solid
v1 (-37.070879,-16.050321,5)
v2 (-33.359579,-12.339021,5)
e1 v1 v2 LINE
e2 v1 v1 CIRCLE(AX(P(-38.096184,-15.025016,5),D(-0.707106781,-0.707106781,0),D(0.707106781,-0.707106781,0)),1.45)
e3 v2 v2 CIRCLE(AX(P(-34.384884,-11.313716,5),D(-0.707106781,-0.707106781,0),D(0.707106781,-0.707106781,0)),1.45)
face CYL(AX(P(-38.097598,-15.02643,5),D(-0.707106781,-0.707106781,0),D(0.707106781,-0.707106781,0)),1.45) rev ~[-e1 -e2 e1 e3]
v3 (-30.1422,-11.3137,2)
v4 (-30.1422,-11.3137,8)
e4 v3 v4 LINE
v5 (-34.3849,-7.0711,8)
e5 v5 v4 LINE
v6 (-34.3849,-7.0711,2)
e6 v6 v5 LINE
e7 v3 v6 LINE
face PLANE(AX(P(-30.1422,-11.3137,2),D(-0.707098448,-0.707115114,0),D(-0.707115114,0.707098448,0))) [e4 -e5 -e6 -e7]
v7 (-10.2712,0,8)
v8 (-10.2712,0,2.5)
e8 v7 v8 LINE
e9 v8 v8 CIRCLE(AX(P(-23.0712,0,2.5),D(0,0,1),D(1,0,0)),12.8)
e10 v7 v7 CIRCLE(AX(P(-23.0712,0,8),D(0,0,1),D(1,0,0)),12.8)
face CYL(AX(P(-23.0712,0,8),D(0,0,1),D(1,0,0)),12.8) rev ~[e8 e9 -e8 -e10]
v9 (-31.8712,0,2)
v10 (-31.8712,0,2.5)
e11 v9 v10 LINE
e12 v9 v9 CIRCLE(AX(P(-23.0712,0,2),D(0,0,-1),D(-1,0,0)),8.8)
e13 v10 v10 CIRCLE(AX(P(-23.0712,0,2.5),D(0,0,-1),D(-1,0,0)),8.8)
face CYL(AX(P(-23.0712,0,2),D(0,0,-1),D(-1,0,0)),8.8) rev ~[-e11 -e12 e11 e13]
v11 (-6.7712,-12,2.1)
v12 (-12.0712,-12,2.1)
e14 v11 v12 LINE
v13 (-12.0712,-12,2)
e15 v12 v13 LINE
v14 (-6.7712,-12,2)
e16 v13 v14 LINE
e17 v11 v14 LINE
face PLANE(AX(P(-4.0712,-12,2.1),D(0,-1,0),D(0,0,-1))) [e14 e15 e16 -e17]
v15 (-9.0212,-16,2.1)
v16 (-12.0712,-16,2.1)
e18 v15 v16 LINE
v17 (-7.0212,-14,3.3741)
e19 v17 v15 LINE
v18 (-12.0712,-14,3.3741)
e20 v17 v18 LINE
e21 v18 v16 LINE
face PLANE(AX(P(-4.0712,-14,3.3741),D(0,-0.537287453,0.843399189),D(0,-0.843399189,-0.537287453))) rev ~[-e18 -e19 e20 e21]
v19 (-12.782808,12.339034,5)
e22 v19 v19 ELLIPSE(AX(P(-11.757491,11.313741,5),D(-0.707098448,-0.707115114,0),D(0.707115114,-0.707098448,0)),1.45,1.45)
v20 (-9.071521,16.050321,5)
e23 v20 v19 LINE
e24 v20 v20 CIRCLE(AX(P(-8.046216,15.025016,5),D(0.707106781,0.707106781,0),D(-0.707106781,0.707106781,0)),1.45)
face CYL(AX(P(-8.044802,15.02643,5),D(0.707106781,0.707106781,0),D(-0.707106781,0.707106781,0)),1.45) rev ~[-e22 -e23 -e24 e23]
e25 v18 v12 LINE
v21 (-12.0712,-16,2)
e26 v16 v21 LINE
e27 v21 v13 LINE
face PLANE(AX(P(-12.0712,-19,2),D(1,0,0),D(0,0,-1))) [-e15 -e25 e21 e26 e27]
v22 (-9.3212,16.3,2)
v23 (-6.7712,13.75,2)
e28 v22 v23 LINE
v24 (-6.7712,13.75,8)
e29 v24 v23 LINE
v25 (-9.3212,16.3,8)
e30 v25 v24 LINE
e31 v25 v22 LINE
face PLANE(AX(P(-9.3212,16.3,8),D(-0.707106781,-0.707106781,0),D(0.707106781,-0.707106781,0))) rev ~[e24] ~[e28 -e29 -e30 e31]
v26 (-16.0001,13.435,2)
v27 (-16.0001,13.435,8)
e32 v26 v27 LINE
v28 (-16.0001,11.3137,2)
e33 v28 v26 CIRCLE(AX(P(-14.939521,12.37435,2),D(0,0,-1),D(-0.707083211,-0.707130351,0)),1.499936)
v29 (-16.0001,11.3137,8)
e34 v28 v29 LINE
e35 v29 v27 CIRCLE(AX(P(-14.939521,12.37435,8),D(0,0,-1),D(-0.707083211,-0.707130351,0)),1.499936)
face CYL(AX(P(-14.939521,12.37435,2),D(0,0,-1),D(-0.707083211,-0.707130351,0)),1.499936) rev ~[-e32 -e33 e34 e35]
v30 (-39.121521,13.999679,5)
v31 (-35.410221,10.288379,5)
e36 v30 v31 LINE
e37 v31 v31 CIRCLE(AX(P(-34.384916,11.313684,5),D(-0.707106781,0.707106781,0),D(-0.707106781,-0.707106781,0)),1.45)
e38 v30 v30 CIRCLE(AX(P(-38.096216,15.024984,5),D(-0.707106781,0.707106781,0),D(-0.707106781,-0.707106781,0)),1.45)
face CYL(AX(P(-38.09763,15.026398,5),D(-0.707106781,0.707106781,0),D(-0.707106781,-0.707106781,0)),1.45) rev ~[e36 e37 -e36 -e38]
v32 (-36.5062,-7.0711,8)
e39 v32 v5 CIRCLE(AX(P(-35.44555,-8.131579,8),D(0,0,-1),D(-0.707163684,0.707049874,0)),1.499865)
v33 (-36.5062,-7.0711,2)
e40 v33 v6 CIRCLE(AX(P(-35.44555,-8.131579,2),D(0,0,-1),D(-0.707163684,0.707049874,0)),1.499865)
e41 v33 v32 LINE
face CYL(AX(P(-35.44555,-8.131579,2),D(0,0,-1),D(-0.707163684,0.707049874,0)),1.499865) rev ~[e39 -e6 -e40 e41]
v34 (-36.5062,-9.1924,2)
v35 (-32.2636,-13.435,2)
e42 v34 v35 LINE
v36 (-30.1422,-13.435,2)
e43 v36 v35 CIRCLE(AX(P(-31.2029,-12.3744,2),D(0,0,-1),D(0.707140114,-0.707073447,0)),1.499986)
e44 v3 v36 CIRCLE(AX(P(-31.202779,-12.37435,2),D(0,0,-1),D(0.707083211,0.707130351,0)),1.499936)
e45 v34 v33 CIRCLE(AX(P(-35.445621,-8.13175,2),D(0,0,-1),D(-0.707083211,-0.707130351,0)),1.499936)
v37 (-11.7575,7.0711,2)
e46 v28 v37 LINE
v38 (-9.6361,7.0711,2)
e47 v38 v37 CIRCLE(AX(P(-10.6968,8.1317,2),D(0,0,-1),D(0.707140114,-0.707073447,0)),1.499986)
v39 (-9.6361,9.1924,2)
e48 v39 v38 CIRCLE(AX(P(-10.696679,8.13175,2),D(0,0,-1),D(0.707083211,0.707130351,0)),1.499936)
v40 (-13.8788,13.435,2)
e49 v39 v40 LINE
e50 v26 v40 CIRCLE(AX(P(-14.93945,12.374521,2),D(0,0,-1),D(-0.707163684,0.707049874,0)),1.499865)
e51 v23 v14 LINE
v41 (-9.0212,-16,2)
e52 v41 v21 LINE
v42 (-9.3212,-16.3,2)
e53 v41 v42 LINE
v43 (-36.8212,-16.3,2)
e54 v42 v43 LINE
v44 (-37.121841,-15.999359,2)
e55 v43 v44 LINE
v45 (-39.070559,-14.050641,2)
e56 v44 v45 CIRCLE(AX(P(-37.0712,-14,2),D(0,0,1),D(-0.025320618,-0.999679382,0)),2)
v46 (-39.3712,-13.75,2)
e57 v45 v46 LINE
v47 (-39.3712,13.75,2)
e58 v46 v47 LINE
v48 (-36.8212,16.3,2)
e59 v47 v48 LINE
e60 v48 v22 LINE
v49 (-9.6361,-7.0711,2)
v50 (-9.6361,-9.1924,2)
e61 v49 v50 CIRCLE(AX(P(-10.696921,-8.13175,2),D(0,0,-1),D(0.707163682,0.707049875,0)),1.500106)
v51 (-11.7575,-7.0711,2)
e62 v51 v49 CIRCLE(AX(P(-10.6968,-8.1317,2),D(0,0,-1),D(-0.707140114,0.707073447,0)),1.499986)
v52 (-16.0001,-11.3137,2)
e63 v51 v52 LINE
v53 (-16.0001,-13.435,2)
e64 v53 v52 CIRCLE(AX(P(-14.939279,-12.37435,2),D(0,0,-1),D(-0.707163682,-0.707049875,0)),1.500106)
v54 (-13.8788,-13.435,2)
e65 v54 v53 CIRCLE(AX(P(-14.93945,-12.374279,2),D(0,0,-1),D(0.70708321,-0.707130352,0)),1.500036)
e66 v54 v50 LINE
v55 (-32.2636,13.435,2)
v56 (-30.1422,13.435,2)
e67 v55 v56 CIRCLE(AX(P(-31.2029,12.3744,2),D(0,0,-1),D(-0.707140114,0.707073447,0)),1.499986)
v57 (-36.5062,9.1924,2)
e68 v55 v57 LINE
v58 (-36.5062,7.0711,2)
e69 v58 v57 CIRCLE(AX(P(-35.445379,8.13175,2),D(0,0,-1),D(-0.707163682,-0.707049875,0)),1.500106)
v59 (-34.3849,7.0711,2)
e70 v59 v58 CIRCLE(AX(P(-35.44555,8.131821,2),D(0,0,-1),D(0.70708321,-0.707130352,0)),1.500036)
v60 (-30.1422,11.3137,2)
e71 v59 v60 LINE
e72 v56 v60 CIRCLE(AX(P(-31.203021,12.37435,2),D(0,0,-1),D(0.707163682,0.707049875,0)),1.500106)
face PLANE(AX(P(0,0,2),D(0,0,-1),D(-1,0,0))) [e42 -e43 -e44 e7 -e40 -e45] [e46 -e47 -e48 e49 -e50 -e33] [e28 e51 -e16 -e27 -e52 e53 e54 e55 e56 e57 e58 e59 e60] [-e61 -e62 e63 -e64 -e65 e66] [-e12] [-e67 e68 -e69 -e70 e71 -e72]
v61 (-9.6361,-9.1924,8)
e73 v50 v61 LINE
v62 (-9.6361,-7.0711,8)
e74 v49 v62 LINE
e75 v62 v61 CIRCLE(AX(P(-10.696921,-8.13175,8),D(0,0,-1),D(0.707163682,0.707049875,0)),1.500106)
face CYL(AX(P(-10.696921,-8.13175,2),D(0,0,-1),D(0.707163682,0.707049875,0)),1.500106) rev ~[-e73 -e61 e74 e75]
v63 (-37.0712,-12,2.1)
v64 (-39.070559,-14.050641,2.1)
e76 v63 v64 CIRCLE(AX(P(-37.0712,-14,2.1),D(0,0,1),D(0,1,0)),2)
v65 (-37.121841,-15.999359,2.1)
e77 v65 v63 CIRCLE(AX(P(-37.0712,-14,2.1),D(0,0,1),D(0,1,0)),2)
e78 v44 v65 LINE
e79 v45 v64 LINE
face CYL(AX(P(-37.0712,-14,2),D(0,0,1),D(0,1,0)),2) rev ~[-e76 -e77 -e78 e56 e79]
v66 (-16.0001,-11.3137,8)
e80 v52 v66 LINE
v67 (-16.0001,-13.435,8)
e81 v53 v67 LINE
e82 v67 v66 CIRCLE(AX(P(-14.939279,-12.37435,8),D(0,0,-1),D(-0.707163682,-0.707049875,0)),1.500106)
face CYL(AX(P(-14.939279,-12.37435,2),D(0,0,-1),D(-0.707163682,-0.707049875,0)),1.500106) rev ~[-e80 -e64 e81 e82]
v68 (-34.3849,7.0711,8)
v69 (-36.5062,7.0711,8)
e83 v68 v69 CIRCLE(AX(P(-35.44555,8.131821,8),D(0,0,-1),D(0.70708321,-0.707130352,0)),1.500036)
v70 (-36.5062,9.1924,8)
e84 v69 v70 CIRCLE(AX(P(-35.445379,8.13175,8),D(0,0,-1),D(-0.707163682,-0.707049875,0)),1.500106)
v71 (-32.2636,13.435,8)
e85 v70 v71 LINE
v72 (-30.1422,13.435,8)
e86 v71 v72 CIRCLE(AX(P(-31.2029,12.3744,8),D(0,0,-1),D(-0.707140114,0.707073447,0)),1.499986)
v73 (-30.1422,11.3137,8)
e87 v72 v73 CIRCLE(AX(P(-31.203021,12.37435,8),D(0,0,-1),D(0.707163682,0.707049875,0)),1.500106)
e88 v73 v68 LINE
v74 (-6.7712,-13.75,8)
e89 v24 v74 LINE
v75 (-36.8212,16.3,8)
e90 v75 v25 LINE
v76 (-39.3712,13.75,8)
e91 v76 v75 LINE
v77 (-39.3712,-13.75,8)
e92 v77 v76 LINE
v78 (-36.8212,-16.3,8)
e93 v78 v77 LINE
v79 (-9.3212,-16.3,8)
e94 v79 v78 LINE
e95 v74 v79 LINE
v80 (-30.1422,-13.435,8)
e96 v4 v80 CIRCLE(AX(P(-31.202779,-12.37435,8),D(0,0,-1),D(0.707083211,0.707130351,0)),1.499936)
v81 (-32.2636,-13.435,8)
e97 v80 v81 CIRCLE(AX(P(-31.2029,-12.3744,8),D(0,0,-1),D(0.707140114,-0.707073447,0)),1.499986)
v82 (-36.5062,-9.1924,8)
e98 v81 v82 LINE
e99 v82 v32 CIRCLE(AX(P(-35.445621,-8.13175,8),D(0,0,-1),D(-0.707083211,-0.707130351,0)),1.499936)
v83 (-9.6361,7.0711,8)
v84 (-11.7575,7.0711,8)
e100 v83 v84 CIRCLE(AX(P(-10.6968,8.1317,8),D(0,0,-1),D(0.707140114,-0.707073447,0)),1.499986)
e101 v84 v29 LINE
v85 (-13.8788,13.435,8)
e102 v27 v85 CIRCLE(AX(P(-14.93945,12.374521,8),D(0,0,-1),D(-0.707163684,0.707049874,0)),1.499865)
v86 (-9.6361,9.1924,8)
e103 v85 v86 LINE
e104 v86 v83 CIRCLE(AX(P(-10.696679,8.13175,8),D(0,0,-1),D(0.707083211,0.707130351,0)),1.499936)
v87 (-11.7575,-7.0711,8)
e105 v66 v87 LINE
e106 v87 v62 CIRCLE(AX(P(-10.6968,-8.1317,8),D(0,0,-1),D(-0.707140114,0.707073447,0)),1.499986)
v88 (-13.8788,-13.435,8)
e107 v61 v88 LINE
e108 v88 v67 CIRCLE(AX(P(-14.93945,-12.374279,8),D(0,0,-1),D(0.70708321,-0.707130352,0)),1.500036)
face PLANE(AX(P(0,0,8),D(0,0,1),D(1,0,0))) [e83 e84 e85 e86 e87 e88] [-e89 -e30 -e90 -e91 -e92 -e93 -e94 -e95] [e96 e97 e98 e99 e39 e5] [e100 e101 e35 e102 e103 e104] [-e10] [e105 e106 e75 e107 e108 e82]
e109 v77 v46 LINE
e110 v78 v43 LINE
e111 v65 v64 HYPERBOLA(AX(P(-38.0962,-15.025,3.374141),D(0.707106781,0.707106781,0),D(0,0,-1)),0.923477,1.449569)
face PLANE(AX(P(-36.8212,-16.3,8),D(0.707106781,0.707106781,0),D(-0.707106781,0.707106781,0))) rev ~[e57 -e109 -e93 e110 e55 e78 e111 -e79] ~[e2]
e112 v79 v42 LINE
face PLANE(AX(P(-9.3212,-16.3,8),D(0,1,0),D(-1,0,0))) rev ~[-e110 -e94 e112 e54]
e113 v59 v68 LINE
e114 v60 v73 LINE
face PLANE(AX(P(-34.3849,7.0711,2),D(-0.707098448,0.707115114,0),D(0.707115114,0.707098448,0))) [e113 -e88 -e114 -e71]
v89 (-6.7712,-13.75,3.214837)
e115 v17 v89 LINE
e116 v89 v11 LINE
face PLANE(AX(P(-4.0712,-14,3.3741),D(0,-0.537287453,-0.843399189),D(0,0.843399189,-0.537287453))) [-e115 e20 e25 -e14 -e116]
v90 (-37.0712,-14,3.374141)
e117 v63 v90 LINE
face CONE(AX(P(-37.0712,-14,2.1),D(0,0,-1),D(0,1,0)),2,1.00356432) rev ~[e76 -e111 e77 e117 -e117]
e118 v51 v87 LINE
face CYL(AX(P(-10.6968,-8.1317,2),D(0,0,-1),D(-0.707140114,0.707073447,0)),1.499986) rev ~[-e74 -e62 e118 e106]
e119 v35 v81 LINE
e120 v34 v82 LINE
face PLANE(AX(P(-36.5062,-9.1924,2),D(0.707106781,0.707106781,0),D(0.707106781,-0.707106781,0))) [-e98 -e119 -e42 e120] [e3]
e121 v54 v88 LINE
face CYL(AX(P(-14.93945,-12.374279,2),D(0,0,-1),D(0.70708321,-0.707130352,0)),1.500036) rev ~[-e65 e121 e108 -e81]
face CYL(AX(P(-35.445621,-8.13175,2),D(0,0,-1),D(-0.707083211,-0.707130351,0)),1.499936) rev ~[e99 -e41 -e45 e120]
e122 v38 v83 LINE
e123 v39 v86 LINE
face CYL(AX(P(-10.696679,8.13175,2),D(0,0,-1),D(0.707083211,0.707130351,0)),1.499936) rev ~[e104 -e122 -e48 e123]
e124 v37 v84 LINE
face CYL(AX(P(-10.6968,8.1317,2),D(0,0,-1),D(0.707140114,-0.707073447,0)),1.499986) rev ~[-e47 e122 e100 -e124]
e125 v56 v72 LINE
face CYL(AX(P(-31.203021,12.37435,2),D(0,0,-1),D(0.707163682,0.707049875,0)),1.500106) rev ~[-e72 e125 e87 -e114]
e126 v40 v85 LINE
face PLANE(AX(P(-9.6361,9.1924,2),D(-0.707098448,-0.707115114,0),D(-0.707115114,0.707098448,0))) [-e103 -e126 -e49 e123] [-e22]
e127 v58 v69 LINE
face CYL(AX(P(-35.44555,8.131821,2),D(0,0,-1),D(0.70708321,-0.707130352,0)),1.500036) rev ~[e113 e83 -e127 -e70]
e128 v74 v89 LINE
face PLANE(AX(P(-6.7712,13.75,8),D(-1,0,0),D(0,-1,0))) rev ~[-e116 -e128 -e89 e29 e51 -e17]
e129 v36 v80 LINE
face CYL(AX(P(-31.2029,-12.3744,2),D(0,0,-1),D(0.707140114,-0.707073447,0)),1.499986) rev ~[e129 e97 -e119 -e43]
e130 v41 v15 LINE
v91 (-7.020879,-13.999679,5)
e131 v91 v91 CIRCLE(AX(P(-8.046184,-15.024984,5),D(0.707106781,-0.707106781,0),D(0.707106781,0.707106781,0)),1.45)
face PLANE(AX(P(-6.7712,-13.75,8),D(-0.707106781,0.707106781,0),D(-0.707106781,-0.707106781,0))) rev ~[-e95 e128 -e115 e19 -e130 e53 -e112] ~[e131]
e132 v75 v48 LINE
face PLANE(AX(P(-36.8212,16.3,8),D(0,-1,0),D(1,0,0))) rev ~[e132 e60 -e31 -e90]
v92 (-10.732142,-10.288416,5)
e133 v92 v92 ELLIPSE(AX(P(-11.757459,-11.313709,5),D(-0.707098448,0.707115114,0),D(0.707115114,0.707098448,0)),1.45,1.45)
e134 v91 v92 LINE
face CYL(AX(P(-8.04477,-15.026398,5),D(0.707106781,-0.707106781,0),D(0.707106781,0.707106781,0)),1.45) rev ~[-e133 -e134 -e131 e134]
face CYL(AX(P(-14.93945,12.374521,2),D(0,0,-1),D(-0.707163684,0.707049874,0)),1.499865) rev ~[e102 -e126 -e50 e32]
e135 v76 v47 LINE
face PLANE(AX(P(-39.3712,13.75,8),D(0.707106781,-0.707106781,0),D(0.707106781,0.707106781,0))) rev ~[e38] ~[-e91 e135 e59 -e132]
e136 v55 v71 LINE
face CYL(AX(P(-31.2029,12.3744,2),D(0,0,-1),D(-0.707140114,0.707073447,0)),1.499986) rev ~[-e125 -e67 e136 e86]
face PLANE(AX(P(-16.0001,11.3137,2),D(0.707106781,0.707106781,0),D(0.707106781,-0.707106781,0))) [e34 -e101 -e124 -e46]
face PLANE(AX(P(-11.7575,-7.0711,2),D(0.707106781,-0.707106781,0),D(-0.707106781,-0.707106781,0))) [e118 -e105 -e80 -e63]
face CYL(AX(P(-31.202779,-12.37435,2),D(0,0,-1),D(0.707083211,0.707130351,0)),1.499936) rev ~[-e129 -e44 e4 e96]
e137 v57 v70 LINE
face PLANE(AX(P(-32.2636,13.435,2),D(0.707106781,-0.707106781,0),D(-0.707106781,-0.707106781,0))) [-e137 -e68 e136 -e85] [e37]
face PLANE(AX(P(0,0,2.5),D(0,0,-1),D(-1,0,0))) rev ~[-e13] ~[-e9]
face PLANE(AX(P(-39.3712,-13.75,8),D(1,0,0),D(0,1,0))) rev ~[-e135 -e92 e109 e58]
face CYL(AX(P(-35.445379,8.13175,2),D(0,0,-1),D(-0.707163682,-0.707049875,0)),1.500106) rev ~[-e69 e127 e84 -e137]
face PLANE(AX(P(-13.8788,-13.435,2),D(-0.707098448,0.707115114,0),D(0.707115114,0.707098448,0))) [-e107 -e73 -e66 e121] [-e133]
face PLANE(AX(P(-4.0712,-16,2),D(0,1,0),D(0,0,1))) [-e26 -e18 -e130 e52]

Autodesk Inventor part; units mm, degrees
ref_plane "YZ Plane" through (0, 0, 0) normal (1, 0, 0) x (0, 1, 0)
ref_plane "XY Plane" through (0, 0, 0) normal (0, 0, 1) x (1, 0, 0)
ref_plane "Work Plane1" through (0, 0, 2) normal (0, 0, 1) x (1, 0, 0)
sketch "Sketch1" plane through (0, 0, 2) normal (0, 0, 1) x (1, 0, 0)
  circle A0 centre (-37.0712, 14) radius 3.25 construction
  circle A1 centre (-9.0712, -14) radius 3.25 construction
  line L0 (-26.0712, -17.08) -> (-20.0712, -17.08) construction
  arc A2 (-20.0712, -17.08) -> (-20.0712, -14.08) centre (-20.0712, -15.58) ccw construction
  line L1 (-20.0712, -14.08) -> (-26.0712, -14.08) construction
  line L2 (-37.0712, -3) -> (-37.0712, 3) construction
  arc A3 (-37.0712, 3) -> (-40.0712, 3) centre (-38.5712, 3) ccw construction
  line L3 (-40.0712, 3) -> (-40.0712, -3) construction
  line L4 (-47.9712, -17) -> (-47.9712, 17) construction
  line L5 (-47.9712, 17) -> (-44.3964, 17) construction
  line L6 (-44.3964, 17) -> (-40.0712, 21.3252) construction
  line L7 (-40.0712, 21.3252) -> (-40.0712, 24.9) construction
  line L8 (-40.0712, 24.9) -> (-6.0712, 24.9) construction
  line L9 (-6.0712, 24.9) -> (-6.0712, 21.3252) construction
  line L10 (-6.0712, 21.3252) -> (-1.746, 17) construction
  line L11 (-1.746, 17) -> (1.8288, 17) construction
  line L12 (1.8288, 17) -> (1.8288, -17) construction
  line L13 (1.8288, -17) -> (-1.746, -17) construction
  line L14 (-1.746, -17) -> (-6.1126, -21.3666) construction
  line L15 (-6.1126, -21.3666) -> (-6.1126, -24.9) construction
  line L16 (-6.1126, -24.9) -> (-40.0712, -24.9) construction
  circle A4 centre (-37.0712, -14) radius 3.25 construction
  circle A5 centre (-23.0712, 0) radius 12.45 construction
  circle A6 centre (-23.0712, 0) radius 12.7 construction
  line L17 (-37.0712, 14) -> (-9.0712, 14) construction
  line L18 (-9.0712, 14) -> (-9.0712, -14) construction
  line L19 (-9.0712, -14) -> (-37.0712, -14) construction
  line L20 (-37.0712, -14) -> (-37.0712, 14) construction
  line L21 (-4.0712, -19) -> (-4.0712, 19)
  line L22 (-4.0712, 19) -> (-42.0712, 19)
  line L23 (-42.0712, 19) -> (-42.0712, -19)
  line L24 (-42.0712, -19) -> (-4.0712, -19)
  circle A7 centre (-23.0712, 0) radius 12.8
  circle A8 centre (-23.0712, 0) radius 3.25 projected
  line L25 (-40.0712, -24.9) -> (-40.0712, -21.3252) projected
  line L26 (-40.0712, -21.3252) -> (-44.3964, -17) projected
  line L27 (-44.3964, -17) -> (-47.9712, -17) projected
  arc A9 (-26.0712, -14.08) -> (-26.0712, -17.08) centre (-26.0712, -15.58) ccw projected
  arc A10 (-40.0712, -3) -> (-37.0712, -3) centre (-38.5712, -3) ccw projected
  circle A11 centre (-37.0712, -14) radius 3.25 projected
  point P0 (0, 0)
  point P1 (-21.8762, -3.0223)
  point P2 (-25.9925, 1.4242)
  dimension "d0" = 5
  dimension "d1" = 0.1
extrude "Extrusion1" add sketch "Sketch1" along normal blind 6 contours L24 L23 L22 L21 | A7 | A8 | A11
sketch "Sketch2" plane through (0, 0, 2) normal (0, 0, -1) x (-1, 0, 0)
  circle A0 centre (23.0712, 0) radius 12.8 projected
  circle A1 centre (23.0712, 0) radius 8.5824
  point P0 (0, 0)
extrude "Extrusion2" add sketch "Sketch2" against normal blind 0.5
sketch "Sketch3" plane through (0, 0, 2) normal (0, 0, -1) x (-1, 0, 0)
  circle A0 centre (9.0712, -14) radius 1.45 construction
  circle A1 centre (9.0712, -14) radius 2.45
  circle A2 centre (37.0712, -14) radius 1.45 projected
  circle A3 centre (37.0712, -14) radius 1.95
  point P0 (0, 0)
  dimension "d8" = 1
  dimension "d10" = 0.5
sketch "Sketch5" plane through (0, 0, 2) normal (0, 0, -1) x (-1, 0, 0)
  arc A0 (20.0712, -14.08) -> (20.0712, -17.08) centre (20.0712, -15.58) ccw construction
  arc A1 (26.0712, -17.08) -> (26.0712, -14.08) centre (26.0712, -15.58) ccw construction
  line L0 (37.0712, 3) -> (37.0712, -3) projected
  arc A2 (37.0712, -3) -> (40.0712, -3) centre (38.5712, -3) ccw projected
  line L1 (40.0712, -3) -> (40.0712, 3) projected
  arc A3 (40.0712, 3) -> (37.0712, 3) centre (38.5712, 3) ccw projected
  line L2 (26.0712, -14.08) -> (20.0712, -14.08) construction
  arc A4 (20.0712, -14.08) -> (20.0712, -17.08) centre (20.0712, -15.58) ccw construction
  line L3 (20.0712, -17.08) -> (26.0712, -17.08) construction
  arc A5 (26.0712, -17.08) -> (26.0712, -14.08) centre (26.0712, -15.58) ccw construction
  circle A6 centre (37.0712, -14) radius 1.45 projected
  circle A7 centre (23.0712, 0) radius 1.45 projected
  circle A8 centre (9.0712, -14) radius 1.45 projected
  circle A9 centre (37.0712, 14) radius 1.45 projected
  line L4 (-1.8288, -17) -> (-1.8288, 17) projected
  line L5 (-1.8288, 17) -> (1.746, 17) projected
  line L6 (1.746, 17) -> (6.0712, 21.3252) projected
  line L7 (6.0712, 21.3252) -> (6.0712, 24.9) projected
  line L8 (6.0712, 24.9) -> (40.0712, 24.9) projected
  line L9 (40.0712, 24.9) -> (40.0712, 21.3252) projected
  line L10 (40.0712, 21.3252) -> (44.3964, 17) projected
  line L11 (44.3964, 17) -> (47.9712, 17) projected
  line L12 (47.9712, 17) -> (47.9712, -17) projected
  line L13 (44.3964, -17) -> (47.9712, -17) projected
  line L14 (40.0712, -21.3252) -> (44.3964, -17) projected
  line L15 (40.0712, -24.9) -> (40.0712, -21.3252) projected
  line L16 (6.1126, -24.9) -> (40.0712, -24.9) projected
  line L17 (6.1126, -24.9) -> (6.1126, -21.3666) projected
  line L18 (6.1126, -21.3666) -> (1.746, -17) projected
  line L19 (1.746, -17) -> (-1.8288, -17) projected
  line L20 (42.0712, -19) -> (4.0712, -19) projected
  arc A10 (7.0712, -3) -> (8.5712, -4.5) centre (8.5712, -3) ccw
  arc A11 (10.0712, 3) -> (8.5712, 4.5) centre (8.5712, 3) ccw
  line L21 (10.0712, 3) -> (10.0712, -3)
  line L22 (8.5712, 3) -> (8.5712, -3.1288) construction
  line L23 (7.0712, -3) -> (7.0712, 3)
  arc A12 (8.5712, 4.5) -> (7.0712, 3) centre (8.5712, 3) ccw
  arc A13 (8.5712, -4.5) -> (10.0712, -3) centre (8.5712, -3) ccw
  line L24 (4.0712, -19) -> (4.0712, 19) projected
  line L25 (42.0712, 19) -> (42.0712, -19) projected
  line L26 (4.0712, 19) -> (42.0712, 19) projected
  circle A14 centre (23.0712, 0) radius 16 construction
  arc A15 (20.0712, 16) -> (18.5712, 14.5) centre (20.0712, 14.5) ccw
  line L27 (26.0712, 14.5) -> (19.9423, 14.5) construction
  line L28 (20.0712, 16) -> (26.0712, 16)
  line L29 (26.0712, 13) -> (20.0712, 13)
  arc A16 (27.5712, 14.5) -> (26.0712, 16) centre (26.0712, 14.5) ccw
  arc A17 (26.0712, 13) -> (27.5712, 14.5) centre (26.0712, 14.5) ccw
  arc A18 (18.5712, 14.5) -> (20.0712, 13) centre (20.0712, 14.5) ccw
  arc A19 (39.0712, 3) -> (37.5712, 4.5) centre (37.5712, 3) ccw
  line L30 (37.5712, -3) -> (37.5712, 3.1288) construction
  line L31 (39.0712, 3) -> (39.0712, -3)
  line L32 (36.0712, -3) -> (36.0712, 3)
  arc A20 (37.5712, -4.5) -> (39.0712, -3) centre (37.5712, -3) ccw
  arc A21 (36.0712, -3) -> (37.5712, -4.5) centre (37.5712, -3) ccw
  arc A22 (37.5712, 4.5) -> (36.0712, 3) centre (37.5712, 3) ccw
  arc A23 (26.0712, -16) -> (27.5712, -14.5) centre (26.0712, -14.5) ccw
  line L33 (20.0712, -14.5) -> (26.2, -14.5) construction
  line L34 (26.0712, -16) -> (20.0712, -16)
  line L35 (20.0712, -13) -> (26.0712, -13)
  arc A24 (18.5712, -14.5) -> (20.0712, -16) centre (20.0712, -14.5) ccw
  arc A25 (20.0712, -13) -> (18.5712, -14.5) centre (20.0712, -14.5) ccw
  arc A26 (27.5712, -14.5) -> (26.0712, -13) centre (26.0712, -14.5) ccw
  arc A27 (13.8788, -13.435) -> (16.0001, -13.435) centre (14.9394, -12.3744) ccw
  circle A28 centre (23.0712, 0) radius 16 construction
  line L36 (11.7575, -7.0711) -> (16.0001, -11.3137)
  line L37 (13.8788, -13.435) -> (9.6361, -9.1924)
  line L38 (10.6968, -8.1317) -> (15.0305, -12.4655) construction
  arc A29 (36.5062, -7.0711) -> (34.3849, -7.0711) centre (35.4455, -8.1317) ccw
  arc A30 (9.6361, -7.0711) -> (9.6361, -9.1924) centre (10.6968, -8.1317) ccw
  arc A31 (11.7575, -7.0711) -> (9.6361, -7.0711) centre (10.6968, -8.1317) ccw
  arc A32 (16.0001, -13.435) -> (16.0001, -11.3137) centre (14.9394, -12.3744) ccw
  arc A33 (9.6361, 9.1924) -> (9.6361, 7.0711) centre (10.6968, 8.1317) ccw
  line L39 (14.9394, 12.3744) -> (10.6057, 8.0406) construction
  arc A34 (16.0001, 11.3137) -> (16.0001, 13.435) centre (14.9394, 12.3744) ccw
  arc A35 (16.0001, 13.435) -> (13.8788, 13.435) centre (14.9394, 12.3744) ccw
  line L40 (16.0001, 11.3137) -> (11.7575, 7.0711)
  line L41 (9.6361, 9.1924) -> (13.8788, 13.435)
  arc A36 (9.6361, 7.0711) -> (11.7575, 7.0711) centre (10.6968, 8.1317) ccw
  line L42 (34.3849, 7.0711) -> (30.1422, 11.3137)
  arc A37 (34.3849, 7.0711) -> (36.5062, 7.0711) centre (35.4455, 8.1317) ccw
  arc A38 (30.1422, 13.435) -> (30.1422, 11.3137) centre (31.2029, 12.3744) ccw
  line L43 (35.4455, 8.1317) -> (31.1118, 12.4655) construction
  arc A39 (32.2636, 13.435) -> (30.1422, 13.435) centre (31.2029, 12.3744) ccw
  line L44 (32.2636, 13.435) -> (36.5062, 9.1924)
  arc A40 (36.5062, 7.0711) -> (36.5062, 9.1924) centre (35.4455, 8.1317) ccw
  line L45 (31.2029, -12.3744) -> (35.5366, -8.0406) construction
  line L46 (30.1422, -11.3137) -> (34.3849, -7.0711)
  arc A41 (30.1422, -11.3137) -> (30.1422, -13.435) centre (31.2029, -12.3744) ccw
  line L47 (36.5062, -9.1924) -> (32.2636, -13.435)
  arc A42 (30.1422, -13.435) -> (32.2636, -13.435) centre (31.2029, -12.3744) ccw
  arc A43 (36.5062, -9.1924) -> (36.5062, -7.0711) centre (35.4455, -8.1317) ccw
  point P0 (0, 0)
  point P1 (40.0712, -3)
  point P2 (4.0712, 0)
  point P3 (7.0712, 0)
  point P4 (23.0712, 16)
  point P5 (39.0712, 0)
  point P6 (23.0712, -16)
  point P7 (11.7575, -11.3137)
  point P8 (13.8788, -9.1924)
  point P9 (11.7575, 11.3137)
  point P10 (34.3849, 11.3137)
  point P11 (34.3849, -11.3137)
  point P12 (11.7575, 11.3137)
  point P13 (34.3849, -11.3137)
  point P14 (34.3849, 11.3137)
  point P15 (13.8788, -9.1924)
  dimension "d133" = 360
  dimension "d144" = 360
  dimension "d240" = 32
  dimension "d139" = 1.5
  dimension "d140" = 1.5
  dimension "d141" = 3
  dimension "d234" = 3
  dimension "d235" = 9
  dimension "d238" = 360
  dimension "d280" = 1.5
  dimension "d281" = 1.5
  dimension "d282" = 3
  dimension "d283" = 3
  dimension "d284" = 9
  dimension "d285" = 32
extrude "Extrusion5" cut sketch "Sketch5" against normal blind 8 contours L37 A30 A31 L36 A32 A27 | A43 L47 A42 A41 L46 A29 | L41 A35 A34 L40 A36 A33 | L42 A38 A39 L44 A40 A37
sketch "Sketch6" plane through (-42.0712, -19, 8) normal (0, -1, 0) x (1, 0, 0)
  line L0 (0, -6) -> (38, -6) projected
  line L1 (38, -6) -> (38, 0) projected
  line L2 (0, 0) -> (38, 0) projected
  line L3 (0, -6) -> (0, 0) projected
  line L4 (31.8, 0) -> (31.8, 0) projected
  circle A0 centre (19, -3.5) radius 1.45
  point P0 (42.0712, -8)
  point P1 (4.5, 0)
  dimension "d34" = 2.9
  dimension "d126" = 2.5
extrude "Extrusion6" [suppressed]
pattern_circular "Circular Pattern1" [suppressed]
chamfer "Chamfer1" distance 3 angle 45 4 edges at (-42.0712, 19, 5) (-4.0712, 19, 5) (-4.0712, -19, 5) (-42.0712, -19, 5)
sketch "Sketch13" plane through (0, 0, 2) normal (0, 0, -1) x (-1, 0, 0)
  circle A0 centre (23.0712, 0) radius 10.0484
  line L0 (42.0712, 16) -> (42.0712, -16) projected
  line L1 (39.0712, -19) -> (7.0712, -19) projected
  circle A1 centre (23.0712, 0) radius 3.25
  point P0 (0, 0)
  point P1 (42.0712, 0)
  point P2 (23.0712, -19)
hole "Hole1" at (-37.0712, -14, 2) direction (0, 0, 1) diameter 4 depth 0.1 tip angle 115
sketch "Sketch4" plane through (-4.0712, -19, 2) normal (1, 0, 0) x (0, 0, -1)
  line L0 (2, 4.45) -> (6, 4.45)
  line L1 (2, 1.55) -> (6, 1.55)
  line L2 (0, 0) -> (0, 38) projected
  arc A0 (2, 19) -> (2, 19) centre (1.5, 4.4206) ccw projected
  line L3 (-1.3741, 5) -> (-0.1, 7) projected
  line L4 (-1.3741, 5) -> (-0.1, 3) projected
  line L5 (-0.1, 7) -> (0.6045, 7)
  line L6 (0.6045, 7) -> (0.6045, 3)
  line L7 (0.6045, 3) -> (-0.1, 3)
  line L8 (-0.1, 3) -> (-0.1, 7)
extrude "Extrusion4" cut sketch "Sketch4" against normal blind 8 contours L7 L8 L5 L2 | L2 L5 L6 L7 | L4 L3 L8
sketch "Sketch9" plane through (-39.0712, 19, 2) normal (0, 1, 0) x (1, 0, 0)
  line L0 (35.8594, -6) -> (35.8594, -4)
  line L1 (35.8594, -4) -> (-5.4569, -4)
  line L2 (-5.4569, -4) -> (-5.4569, -6)
  line L3 (-5.4569, -6) -> (35.8594, -6)
  line L4 (32, -6) -> (0, -6) projected
  point P0 (39.0712, 2)
  dimension "d51" = 2
extrude "Extrusion9" [suppressed]
sketch "Sketch11" plane through (0, 0, 2) normal (0, 0, -1) x (-1, 0, 0)
  circle A0 centre (23.0712, 0) radius 3.25 projected
  line L0 (12.0712, -16) -> (4.0712, -16) projected
  line L1 (7.0712, -19) -> (4.0712, -16) projected
  line L2 (39.0712, -19) -> (7.0712, -19) projected
  line L3 (42.0712, -16) -> (39.0712, -19) projected
  line L4 (42.0712, 16) -> (42.0712, -16) projected
  line L5 (39.0712, 19) -> (42.0712, 16) projected
  line L6 (7.0712, 19) -> (39.0712, 19) projected
  line L7 (4.0712, 16) -> (7.0712, 19) projected
  line L8 (4.0712, -12) -> (4.0712, 16) projected
  line L9 (4.0712, -12) -> (12.0712, -12) projected
  line L10 (12.0712, -12) -> (12.0712, -16) projected
  circle A1 centre (37.0712, -14) radius 2 projected
  circle A2 centre (23.0712, 0) radius 3.25 projected
  line L11 (4.0712, -12) -> (4.0712, 16) projected
  circle A3 centre (13.1721, 17.5) radius 1
  circle A4 centre (33.6721, 11) radius 1
  circle A5 centre (18.1721, -10.5) radius 1
  circle A6 centre (33.6721, 11) radius 0.9
  circle A7 centre (13.1721, 17.5) radius 0.9
  circle A8 centre (18.1721, -10.5) radius 0.9
  circle A9 centre (23.0712, 0) radius 7.071
  point P0 (0, 0)
  point P1 (0, 0)
  dimension "d57" = 1.8
  dimension "d58" = 1.8
  dimension "d59" = 1.8
extrude "Extrusion10" [suppressed]
sketch "Sketch12" plane through (0, 0, 8) normal (0, 0, 1) x (1, 0, 0)
  line L0 (-32.0962, 9.025) -> (-14.0462, 9.025) construction
  line L1 (-14.0462, 9.025) -> (-14.0462, -9.025) construction
  line L2 (-14.0462, -9.025) -> (-32.0962, -9.025) construction
  line L3 (-32.0962, -9.025) -> (-32.0962, 9.025) construction
  line L4 (-7.0712, 19) -> (-39.0712, 19) projected
  line L5 (-4.0712, -16) -> (-4.0712, 16) projected
  circle A0 centre (-23.0712, 0) radius 12.8
  point P0 (0, 0)
  point P1 (-23.0712, 9.025)
  point P2 (-23.0712, 19)
  point P3 (-14.0462, 0)
  point P4 (-4.0712, 0)
  dimension "d62" = 18.05
  dimension "d63" = 18.05
  dimension "d205" = 25.6
extrude "Extrusion11" cut sketch "Sketch12" against normal blind 6
sketch "Sketch14" plane through (0, 0, 8) normal (0, 0, 1) x (1, 0, 0)
  line L0 (-39.0712, -19) -> (-42.0712, -16) projected
  line L1 (-39.0712, -19) -> (-7.0712, -19) projected
  line L2 (-4.0712, -16) -> (-7.0712, -19) projected
  line L3 (-4.0712, -16) -> (-4.0712, 16) projected
  line L4 (-7.0712, 19) -> (-4.0712, 16) projected
  line L5 (-7.0712, 19) -> (-39.0712, 19) projected
  line L6 (-42.0712, 16) -> (-39.0712, 19) projected
  line L7 (-42.0712, 16) -> (-42.0712, -16) projected
  line L8 (-36.8212, 16.3) -> (-9.3212, 16.3)
  line L9 (-9.3212, 16.3) -> (-6.7712, 13.75)
  line L10 (-6.7712, 13.75) -> (-6.7712, -13.75)
  line L11 (-6.7712, -13.75) -> (-9.3212, -16.3)
  line L12 (-9.3212, -16.3) -> (-36.8212, -16.3)
  line L13 (-36.8212, -16.3) -> (-39.3712, -13.75)
  line L14 (-39.3712, -13.75) -> (-39.3712, 13.75)
  line L15 (-39.3712, 13.75) -> (-36.8212, 16.3)
  line L16 (-7.0712, 19) -> (-39.0712, 19) projected
  line L17 (-7.0712, 19) -> (-4.0712, 16) projected
  line L18 (-4.0712, -16) -> (-7.0712, -19) projected
  line L19 (-4.0712, -16) -> (-4.0712, 16) projected
  line L20 (-39.0712, -19) -> (-7.0712, -19) projected
  line L21 (-39.0712, -19) -> (-42.0712, -16) projected
  line L22 (-42.0712, 16) -> (-42.0712, -16) projected
  line L23 (-42.0712, 16) -> (-39.0712, 19) projected
  point P0 (-23.0712, 16.3)
  point P1 (-23.0712, 19)
  point P2 (-23.0712, -16.3)
  point P3 (-6.7712, 0)
  point P4 (-4.0712, 0)
  point P5 (-39.3712, 0)
  point P6 (-42.0712, 0)
  point P7 (-8.0462, -15.025)
  point P8 (-38.0962, 15.025)
  point P9 (-38.0962, -15.025)
  point P10 (-8.0462, 15.025)
  dimension "d190" = 27.5
  dimension "d194" = 2.7
  dimension "d195" = 2.7
  dimension "d196" = 2.7
  dimension "d197" = 2.7
  dimension "d198" = 27.5
  dimension "d199" = 27.5
  dimension "d200" = 27.5
  dimension "d201" = 3.6062
  dimension "d202" = 3.6062
  dimension "d203" = 3.6062
  dimension "d204" = 3.6062
extrude "Extrusion12" cut sketch "Sketch14" against normal blind 10 contours L8 L9 L10 L11 L12 L13 L14 L15 keep common part
sketch "Sketch16" plane through (0, 0, 2) normal (0, 0, -1) x (-1, 0, 0)
  circle A0 centre (23.0712, 0) radius 12.8
  circle A1 centre (23.0712, 0) radius 8.8
  point P0 (0, 0)
  point P1 (14.0462, -9.025)
  dimension "d206" = 25.6
  dimension "d207" = 4
extrude "Extrusion14" add sketch "Sketch16" against normal blind 0.5
sketch "Sketch17" plane through (-36.4185, -16.7027, 8) normal (-0.7071, -0.7071, 0) x (-0.7071, 0.7071, 0)
  line L0 (0.3726, 6) -> (4.3726, 6) projected
  point P0 (-13.9412, 8)
  point P1 (3.7506, 6)
sketch "Sketch18" plane through (0, 0, 8) normal (0, 0, 1) x (1, 0, 0)
  circle A0 centre (-23.0712, 0) radius 12.8 projected
  circle A1 centre (-23.0712, 0) radius 12.8 projected
  line L0 (-20.0712, 14.5) -> (-26.0712, 14.5) construction
  line L1 (-20.0712, 16) -> (-26.0712, 16)
  line L2 (-26.0712, 13) -> (-20.0712, 13)
  arc A2 (-20.0712, 13) -> (-20.0712, 16) centre (-20.0712, 14.5) ccw
  arc A3 (-26.0712, 16) -> (-26.0712, 13) centre (-26.0712, 14.5) ccw
  arc A4 (-10.0712, -3) -> (-7.0712, -3) centre (-8.5712, -3) ccw projected
  line L3 (-8.5712, -3) -> (-8.5712, 3) construction
  line L4 (-10.0712, -3) -> (-10.0712, 3)
  line L5 (-7.0712, 3) -> (-7.0712, -3)
  arc A5 (-10.0712, -3) -> (-7.0712, -3) centre (-8.5712, -3) ccw
  arc A6 (-7.0712, 3) -> (-10.0712, 3) centre (-8.5712, 3) ccw
  line L6 (-20.0712, -14.5) -> (-26.0712, -14.5) construction
  line L7 (-20.0712, -13) -> (-26.0712, -13)
  line L8 (-26.0712, -16) -> (-20.0712, -16)
  arc A7 (-20.0712, -16) -> (-20.0712, -13) centre (-20.0712, -14.5) ccw
  arc A8 (-26.0712, -13) -> (-26.0712, -16) centre (-26.0712, -14.5) ccw
  line L9 (-37.5712, -3) -> (-37.5712, 3) construction
  line L10 (-39.0712, -3) -> (-39.0712, 3)
  line L11 (-36.0712, 3) -> (-36.0712, -3)
  arc A9 (-39.0712, -3) -> (-36.0712, -3) centre (-37.5712, -3) ccw
  arc A10 (-36.0712, 3) -> (-39.0712, 3) centre (-37.5712, 3) ccw
  line L12 (-20.0712, -14.5) -> (-26.0712, -14.5) construction
  line L13 (-20.0712, -13.25) -> (-26.0712, -13.25)
  line L14 (-26.0712, -15.75) -> (-20.0712, -15.75)
  arc A11 (-20.0712, -15.75) -> (-20.0712, -13.25) centre (-20.0712, -14.5) ccw
  arc A12 (-26.0712, -13.25) -> (-26.0712, -15.75) centre (-26.0712, -14.5) ccw
  line L15 (-8.5712, -3) -> (-8.5712, 3) construction
  line L16 (-9.8212, -3) -> (-9.8212, 3)
  line L17 (-7.3212, 3) -> (-7.3212, -3)
  arc A13 (-9.8212, -3) -> (-7.3212, -3) centre (-8.5712, -3) ccw
  arc A14 (-7.3212, 3) -> (-9.8212, 3) centre (-8.5712, 3) ccw
  line L18 (-20.0712, 14.5) -> (-26.0712, 14.5) construction
  line L19 (-20.0712, 15.75) -> (-26.0712, 15.75)
  line L20 (-26.0712, 13.25) -> (-20.0712, 13.25)
  arc A15 (-20.0712, 13.25) -> (-20.0712, 15.75) centre (-20.0712, 14.5) ccw
  arc A16 (-26.0712, 15.75) -> (-26.0712, 13.25) centre (-26.0712, 14.5) ccw
  line L21 (-37.5712, 3) -> (-37.5712, -3) construction
  line L22 (-38.8212, 3) -> (-38.8212, -3)
  line L23 (-36.3212, -3) -> (-36.3212, 3)
  arc A17 (-36.3212, 3) -> (-38.8212, 3) centre (-37.5712, 3) ccw
  arc A18 (-38.8212, -3) -> (-36.3212, -3) centre (-37.5712, -3) ccw
  line L24 (-10.6968, 8.1317) -> (-14.9394, 12.3744) construction
  line L25 (-9.6361, 9.1924) -> (-13.8788, 13.435)
  line L26 (-16.0001, 11.3137) -> (-11.7575, 7.0711)
  arc A19 (-11.7575, 7.0711) -> (-9.6361, 9.1924) centre (-10.6968, 8.1317) ccw
  arc A20 (-13.8788, 13.435) -> (-16.0001, 11.3137) centre (-14.9394, 12.3744) ccw
  line L27 (-14.9394, -12.3744) -> (-10.6968, -8.1317) construction
  line L28 (-16.0001, -11.3137) -> (-11.7575, -7.0711)
  line L29 (-9.6361, -9.1924) -> (-13.8788, -13.435)
  arc A21 (-16.0001, -11.3137) -> (-13.8788, -13.435) centre (-14.9394, -12.3744) ccw
  arc A22 (-9.6361, -9.1924) -> (-11.7575, -7.0711) centre (-10.6968, -8.1317) ccw
  line L30 (-31.2029, -12.3744) -> (-35.4455, -8.1317) construction
  line L31 (-30.1422, -11.3137) -> (-34.3849, -7.0711)
  line L32 (-36.5062, -9.1924) -> (-32.2636, -13.435)
  arc A23 (-32.2636, -13.435) -> (-30.1422, -11.3137) centre (-31.2029, -12.3744) ccw
  arc A24 (-34.3849, -7.0711) -> (-36.5062, -9.1924) centre (-35.4455, -8.1317) ccw
  line L33 (-35.4455, 8.1317) -> (-31.2029, 12.3744) construction
  line L34 (-36.5062, 9.1924) -> (-32.2636, 13.435)
  line L35 (-30.1422, 11.3137) -> (-34.3849, 7.0711)
  arc A25 (-36.5062, 9.1924) -> (-34.3849, 7.0711) centre (-35.4455, 8.1317) ccw
  arc A26 (-30.1422, 11.3137) -> (-32.2636, 13.435) centre (-31.2029, 12.3744) ccw
  line L36 (-31.2029, -12.3744) -> (-35.4455, -8.1317) construction
  line L37 (-30.319, -11.4905) -> (-34.5617, -7.2478)
  line L38 (-36.3294, -9.0156) -> (-32.0868, -13.2583)
  arc A27 (-32.0868, -13.2583) -> (-30.319, -11.4905) centre (-31.2029, -12.3744) ccw
  arc A28 (-34.5617, -7.2478) -> (-36.3294, -9.0156) centre (-35.4455, -8.1317) ccw
  line L39 (-14.9394, -12.3744) -> (-10.6968, -8.1317) construction
  line L40 (-15.8233, -11.4905) -> (-11.5807, -7.2478)
  line L41 (-9.8129, -9.0156) -> (-14.0556, -13.2583)
  arc A29 (-15.8233, -11.4905) -> (-14.0556, -13.2583) centre (-14.9394, -12.3744) ccw
  arc A30 (-9.8129, -9.0156) -> (-11.5807, -7.2478) centre (-10.6968, -8.1317) ccw
  line L42 (-10.6968, 8.1317) -> (-14.9394, 12.3744) construction
  line L43 (-9.8129, 9.0156) -> (-14.0556, 13.2583)
  line L44 (-15.8233, 11.4905) -> (-11.5807, 7.2478)
  arc A31 (-11.5807, 7.2478) -> (-9.8129, 9.0156) centre (-10.6968, 8.1317) ccw
  arc A32 (-14.0556, 13.2583) -> (-15.8233, 11.4905) centre (-14.9394, 12.3744) ccw
  line L45 (-31.2029, 12.3744) -> (-35.4455, 8.1317) construction
  line L46 (-32.0868, 13.2583) -> (-36.3294, 9.0156)
  line L47 (-34.5617, 7.2478) -> (-30.319, 11.4905)
  arc A33 (-30.319, 11.4905) -> (-32.0868, 13.2583) centre (-31.2029, 12.3744) ccw
  arc A34 (-36.3294, 9.0156) -> (-34.5617, 7.2478) centre (-35.4455, 8.1317) ccw
  circle A35 centre (-23.0712, 0) radius 3.6722
  point P0 (-23.0712, 14.5)
  point P1 (-8.5712, 0)
  point P2 (-23.0712, -14.5)
  point P3 (-37.5712, 0)
  point P4 (-23.0712, -14.5)
  point P5 (-8.5712, 0)
  point P6 (-23.0712, 14.5)
  point P7 (-37.5712, 0)
  point P8 (-12.8181, 10.253)
  point P9 (-12.8181, -10.253)
  point P10 (-33.3242, -10.253)
  point P11 (-33.3242, 10.253)
  point P12 (-33.3242, -10.253)
  point P13 (-12.8181, -10.253)
  point P14 (-12.8181, 10.253)
  point P15 (-33.3242, 10.253)
  dimension "d218" = 360
  dimension "d263" = 14.5
  dimension "d264" = 14.5
  dimension "d265" = 14.5
  dimension "d266" = 14.5
  dimension "d267" = 14.5
  dimension "d268" = 14.5
  dimension "d269" = 14.5
extrude "Extrusion16" [suppressed]
sketch "Sketch20" plane through (-9.3212, 16.3, 2) normal (0.7071, 0.7071, 0) x (-0.7071, 0.7071, 0)
  circle A0 centre (-1.8031, 3) radius 1.45
  line L0 (-3.6062, 6) -> (-3.6062, 0) projected
  line L1 (0, 6) -> (-3.6062, 6) projected
  point P0 (-18.1169, -2)
  point P1 (-3.6062, 3)
  point P2 (-1.8031, 6)
  dimension "d286" = 2.9
extrude "Extrusion18" cut sketch "Sketch20" against normal up to surface (5.2486 mm away)
pattern_circular "Circular Pattern4" count 4 over 360 about axis through (-23.0712, 0, 2) along (0, 0, -1) of "Extrusion18"
equation "\"d63\" = d62"
properties part number "20_Cube_Insert_Kinematic_Beautymirrormount_90_pro_v3"
